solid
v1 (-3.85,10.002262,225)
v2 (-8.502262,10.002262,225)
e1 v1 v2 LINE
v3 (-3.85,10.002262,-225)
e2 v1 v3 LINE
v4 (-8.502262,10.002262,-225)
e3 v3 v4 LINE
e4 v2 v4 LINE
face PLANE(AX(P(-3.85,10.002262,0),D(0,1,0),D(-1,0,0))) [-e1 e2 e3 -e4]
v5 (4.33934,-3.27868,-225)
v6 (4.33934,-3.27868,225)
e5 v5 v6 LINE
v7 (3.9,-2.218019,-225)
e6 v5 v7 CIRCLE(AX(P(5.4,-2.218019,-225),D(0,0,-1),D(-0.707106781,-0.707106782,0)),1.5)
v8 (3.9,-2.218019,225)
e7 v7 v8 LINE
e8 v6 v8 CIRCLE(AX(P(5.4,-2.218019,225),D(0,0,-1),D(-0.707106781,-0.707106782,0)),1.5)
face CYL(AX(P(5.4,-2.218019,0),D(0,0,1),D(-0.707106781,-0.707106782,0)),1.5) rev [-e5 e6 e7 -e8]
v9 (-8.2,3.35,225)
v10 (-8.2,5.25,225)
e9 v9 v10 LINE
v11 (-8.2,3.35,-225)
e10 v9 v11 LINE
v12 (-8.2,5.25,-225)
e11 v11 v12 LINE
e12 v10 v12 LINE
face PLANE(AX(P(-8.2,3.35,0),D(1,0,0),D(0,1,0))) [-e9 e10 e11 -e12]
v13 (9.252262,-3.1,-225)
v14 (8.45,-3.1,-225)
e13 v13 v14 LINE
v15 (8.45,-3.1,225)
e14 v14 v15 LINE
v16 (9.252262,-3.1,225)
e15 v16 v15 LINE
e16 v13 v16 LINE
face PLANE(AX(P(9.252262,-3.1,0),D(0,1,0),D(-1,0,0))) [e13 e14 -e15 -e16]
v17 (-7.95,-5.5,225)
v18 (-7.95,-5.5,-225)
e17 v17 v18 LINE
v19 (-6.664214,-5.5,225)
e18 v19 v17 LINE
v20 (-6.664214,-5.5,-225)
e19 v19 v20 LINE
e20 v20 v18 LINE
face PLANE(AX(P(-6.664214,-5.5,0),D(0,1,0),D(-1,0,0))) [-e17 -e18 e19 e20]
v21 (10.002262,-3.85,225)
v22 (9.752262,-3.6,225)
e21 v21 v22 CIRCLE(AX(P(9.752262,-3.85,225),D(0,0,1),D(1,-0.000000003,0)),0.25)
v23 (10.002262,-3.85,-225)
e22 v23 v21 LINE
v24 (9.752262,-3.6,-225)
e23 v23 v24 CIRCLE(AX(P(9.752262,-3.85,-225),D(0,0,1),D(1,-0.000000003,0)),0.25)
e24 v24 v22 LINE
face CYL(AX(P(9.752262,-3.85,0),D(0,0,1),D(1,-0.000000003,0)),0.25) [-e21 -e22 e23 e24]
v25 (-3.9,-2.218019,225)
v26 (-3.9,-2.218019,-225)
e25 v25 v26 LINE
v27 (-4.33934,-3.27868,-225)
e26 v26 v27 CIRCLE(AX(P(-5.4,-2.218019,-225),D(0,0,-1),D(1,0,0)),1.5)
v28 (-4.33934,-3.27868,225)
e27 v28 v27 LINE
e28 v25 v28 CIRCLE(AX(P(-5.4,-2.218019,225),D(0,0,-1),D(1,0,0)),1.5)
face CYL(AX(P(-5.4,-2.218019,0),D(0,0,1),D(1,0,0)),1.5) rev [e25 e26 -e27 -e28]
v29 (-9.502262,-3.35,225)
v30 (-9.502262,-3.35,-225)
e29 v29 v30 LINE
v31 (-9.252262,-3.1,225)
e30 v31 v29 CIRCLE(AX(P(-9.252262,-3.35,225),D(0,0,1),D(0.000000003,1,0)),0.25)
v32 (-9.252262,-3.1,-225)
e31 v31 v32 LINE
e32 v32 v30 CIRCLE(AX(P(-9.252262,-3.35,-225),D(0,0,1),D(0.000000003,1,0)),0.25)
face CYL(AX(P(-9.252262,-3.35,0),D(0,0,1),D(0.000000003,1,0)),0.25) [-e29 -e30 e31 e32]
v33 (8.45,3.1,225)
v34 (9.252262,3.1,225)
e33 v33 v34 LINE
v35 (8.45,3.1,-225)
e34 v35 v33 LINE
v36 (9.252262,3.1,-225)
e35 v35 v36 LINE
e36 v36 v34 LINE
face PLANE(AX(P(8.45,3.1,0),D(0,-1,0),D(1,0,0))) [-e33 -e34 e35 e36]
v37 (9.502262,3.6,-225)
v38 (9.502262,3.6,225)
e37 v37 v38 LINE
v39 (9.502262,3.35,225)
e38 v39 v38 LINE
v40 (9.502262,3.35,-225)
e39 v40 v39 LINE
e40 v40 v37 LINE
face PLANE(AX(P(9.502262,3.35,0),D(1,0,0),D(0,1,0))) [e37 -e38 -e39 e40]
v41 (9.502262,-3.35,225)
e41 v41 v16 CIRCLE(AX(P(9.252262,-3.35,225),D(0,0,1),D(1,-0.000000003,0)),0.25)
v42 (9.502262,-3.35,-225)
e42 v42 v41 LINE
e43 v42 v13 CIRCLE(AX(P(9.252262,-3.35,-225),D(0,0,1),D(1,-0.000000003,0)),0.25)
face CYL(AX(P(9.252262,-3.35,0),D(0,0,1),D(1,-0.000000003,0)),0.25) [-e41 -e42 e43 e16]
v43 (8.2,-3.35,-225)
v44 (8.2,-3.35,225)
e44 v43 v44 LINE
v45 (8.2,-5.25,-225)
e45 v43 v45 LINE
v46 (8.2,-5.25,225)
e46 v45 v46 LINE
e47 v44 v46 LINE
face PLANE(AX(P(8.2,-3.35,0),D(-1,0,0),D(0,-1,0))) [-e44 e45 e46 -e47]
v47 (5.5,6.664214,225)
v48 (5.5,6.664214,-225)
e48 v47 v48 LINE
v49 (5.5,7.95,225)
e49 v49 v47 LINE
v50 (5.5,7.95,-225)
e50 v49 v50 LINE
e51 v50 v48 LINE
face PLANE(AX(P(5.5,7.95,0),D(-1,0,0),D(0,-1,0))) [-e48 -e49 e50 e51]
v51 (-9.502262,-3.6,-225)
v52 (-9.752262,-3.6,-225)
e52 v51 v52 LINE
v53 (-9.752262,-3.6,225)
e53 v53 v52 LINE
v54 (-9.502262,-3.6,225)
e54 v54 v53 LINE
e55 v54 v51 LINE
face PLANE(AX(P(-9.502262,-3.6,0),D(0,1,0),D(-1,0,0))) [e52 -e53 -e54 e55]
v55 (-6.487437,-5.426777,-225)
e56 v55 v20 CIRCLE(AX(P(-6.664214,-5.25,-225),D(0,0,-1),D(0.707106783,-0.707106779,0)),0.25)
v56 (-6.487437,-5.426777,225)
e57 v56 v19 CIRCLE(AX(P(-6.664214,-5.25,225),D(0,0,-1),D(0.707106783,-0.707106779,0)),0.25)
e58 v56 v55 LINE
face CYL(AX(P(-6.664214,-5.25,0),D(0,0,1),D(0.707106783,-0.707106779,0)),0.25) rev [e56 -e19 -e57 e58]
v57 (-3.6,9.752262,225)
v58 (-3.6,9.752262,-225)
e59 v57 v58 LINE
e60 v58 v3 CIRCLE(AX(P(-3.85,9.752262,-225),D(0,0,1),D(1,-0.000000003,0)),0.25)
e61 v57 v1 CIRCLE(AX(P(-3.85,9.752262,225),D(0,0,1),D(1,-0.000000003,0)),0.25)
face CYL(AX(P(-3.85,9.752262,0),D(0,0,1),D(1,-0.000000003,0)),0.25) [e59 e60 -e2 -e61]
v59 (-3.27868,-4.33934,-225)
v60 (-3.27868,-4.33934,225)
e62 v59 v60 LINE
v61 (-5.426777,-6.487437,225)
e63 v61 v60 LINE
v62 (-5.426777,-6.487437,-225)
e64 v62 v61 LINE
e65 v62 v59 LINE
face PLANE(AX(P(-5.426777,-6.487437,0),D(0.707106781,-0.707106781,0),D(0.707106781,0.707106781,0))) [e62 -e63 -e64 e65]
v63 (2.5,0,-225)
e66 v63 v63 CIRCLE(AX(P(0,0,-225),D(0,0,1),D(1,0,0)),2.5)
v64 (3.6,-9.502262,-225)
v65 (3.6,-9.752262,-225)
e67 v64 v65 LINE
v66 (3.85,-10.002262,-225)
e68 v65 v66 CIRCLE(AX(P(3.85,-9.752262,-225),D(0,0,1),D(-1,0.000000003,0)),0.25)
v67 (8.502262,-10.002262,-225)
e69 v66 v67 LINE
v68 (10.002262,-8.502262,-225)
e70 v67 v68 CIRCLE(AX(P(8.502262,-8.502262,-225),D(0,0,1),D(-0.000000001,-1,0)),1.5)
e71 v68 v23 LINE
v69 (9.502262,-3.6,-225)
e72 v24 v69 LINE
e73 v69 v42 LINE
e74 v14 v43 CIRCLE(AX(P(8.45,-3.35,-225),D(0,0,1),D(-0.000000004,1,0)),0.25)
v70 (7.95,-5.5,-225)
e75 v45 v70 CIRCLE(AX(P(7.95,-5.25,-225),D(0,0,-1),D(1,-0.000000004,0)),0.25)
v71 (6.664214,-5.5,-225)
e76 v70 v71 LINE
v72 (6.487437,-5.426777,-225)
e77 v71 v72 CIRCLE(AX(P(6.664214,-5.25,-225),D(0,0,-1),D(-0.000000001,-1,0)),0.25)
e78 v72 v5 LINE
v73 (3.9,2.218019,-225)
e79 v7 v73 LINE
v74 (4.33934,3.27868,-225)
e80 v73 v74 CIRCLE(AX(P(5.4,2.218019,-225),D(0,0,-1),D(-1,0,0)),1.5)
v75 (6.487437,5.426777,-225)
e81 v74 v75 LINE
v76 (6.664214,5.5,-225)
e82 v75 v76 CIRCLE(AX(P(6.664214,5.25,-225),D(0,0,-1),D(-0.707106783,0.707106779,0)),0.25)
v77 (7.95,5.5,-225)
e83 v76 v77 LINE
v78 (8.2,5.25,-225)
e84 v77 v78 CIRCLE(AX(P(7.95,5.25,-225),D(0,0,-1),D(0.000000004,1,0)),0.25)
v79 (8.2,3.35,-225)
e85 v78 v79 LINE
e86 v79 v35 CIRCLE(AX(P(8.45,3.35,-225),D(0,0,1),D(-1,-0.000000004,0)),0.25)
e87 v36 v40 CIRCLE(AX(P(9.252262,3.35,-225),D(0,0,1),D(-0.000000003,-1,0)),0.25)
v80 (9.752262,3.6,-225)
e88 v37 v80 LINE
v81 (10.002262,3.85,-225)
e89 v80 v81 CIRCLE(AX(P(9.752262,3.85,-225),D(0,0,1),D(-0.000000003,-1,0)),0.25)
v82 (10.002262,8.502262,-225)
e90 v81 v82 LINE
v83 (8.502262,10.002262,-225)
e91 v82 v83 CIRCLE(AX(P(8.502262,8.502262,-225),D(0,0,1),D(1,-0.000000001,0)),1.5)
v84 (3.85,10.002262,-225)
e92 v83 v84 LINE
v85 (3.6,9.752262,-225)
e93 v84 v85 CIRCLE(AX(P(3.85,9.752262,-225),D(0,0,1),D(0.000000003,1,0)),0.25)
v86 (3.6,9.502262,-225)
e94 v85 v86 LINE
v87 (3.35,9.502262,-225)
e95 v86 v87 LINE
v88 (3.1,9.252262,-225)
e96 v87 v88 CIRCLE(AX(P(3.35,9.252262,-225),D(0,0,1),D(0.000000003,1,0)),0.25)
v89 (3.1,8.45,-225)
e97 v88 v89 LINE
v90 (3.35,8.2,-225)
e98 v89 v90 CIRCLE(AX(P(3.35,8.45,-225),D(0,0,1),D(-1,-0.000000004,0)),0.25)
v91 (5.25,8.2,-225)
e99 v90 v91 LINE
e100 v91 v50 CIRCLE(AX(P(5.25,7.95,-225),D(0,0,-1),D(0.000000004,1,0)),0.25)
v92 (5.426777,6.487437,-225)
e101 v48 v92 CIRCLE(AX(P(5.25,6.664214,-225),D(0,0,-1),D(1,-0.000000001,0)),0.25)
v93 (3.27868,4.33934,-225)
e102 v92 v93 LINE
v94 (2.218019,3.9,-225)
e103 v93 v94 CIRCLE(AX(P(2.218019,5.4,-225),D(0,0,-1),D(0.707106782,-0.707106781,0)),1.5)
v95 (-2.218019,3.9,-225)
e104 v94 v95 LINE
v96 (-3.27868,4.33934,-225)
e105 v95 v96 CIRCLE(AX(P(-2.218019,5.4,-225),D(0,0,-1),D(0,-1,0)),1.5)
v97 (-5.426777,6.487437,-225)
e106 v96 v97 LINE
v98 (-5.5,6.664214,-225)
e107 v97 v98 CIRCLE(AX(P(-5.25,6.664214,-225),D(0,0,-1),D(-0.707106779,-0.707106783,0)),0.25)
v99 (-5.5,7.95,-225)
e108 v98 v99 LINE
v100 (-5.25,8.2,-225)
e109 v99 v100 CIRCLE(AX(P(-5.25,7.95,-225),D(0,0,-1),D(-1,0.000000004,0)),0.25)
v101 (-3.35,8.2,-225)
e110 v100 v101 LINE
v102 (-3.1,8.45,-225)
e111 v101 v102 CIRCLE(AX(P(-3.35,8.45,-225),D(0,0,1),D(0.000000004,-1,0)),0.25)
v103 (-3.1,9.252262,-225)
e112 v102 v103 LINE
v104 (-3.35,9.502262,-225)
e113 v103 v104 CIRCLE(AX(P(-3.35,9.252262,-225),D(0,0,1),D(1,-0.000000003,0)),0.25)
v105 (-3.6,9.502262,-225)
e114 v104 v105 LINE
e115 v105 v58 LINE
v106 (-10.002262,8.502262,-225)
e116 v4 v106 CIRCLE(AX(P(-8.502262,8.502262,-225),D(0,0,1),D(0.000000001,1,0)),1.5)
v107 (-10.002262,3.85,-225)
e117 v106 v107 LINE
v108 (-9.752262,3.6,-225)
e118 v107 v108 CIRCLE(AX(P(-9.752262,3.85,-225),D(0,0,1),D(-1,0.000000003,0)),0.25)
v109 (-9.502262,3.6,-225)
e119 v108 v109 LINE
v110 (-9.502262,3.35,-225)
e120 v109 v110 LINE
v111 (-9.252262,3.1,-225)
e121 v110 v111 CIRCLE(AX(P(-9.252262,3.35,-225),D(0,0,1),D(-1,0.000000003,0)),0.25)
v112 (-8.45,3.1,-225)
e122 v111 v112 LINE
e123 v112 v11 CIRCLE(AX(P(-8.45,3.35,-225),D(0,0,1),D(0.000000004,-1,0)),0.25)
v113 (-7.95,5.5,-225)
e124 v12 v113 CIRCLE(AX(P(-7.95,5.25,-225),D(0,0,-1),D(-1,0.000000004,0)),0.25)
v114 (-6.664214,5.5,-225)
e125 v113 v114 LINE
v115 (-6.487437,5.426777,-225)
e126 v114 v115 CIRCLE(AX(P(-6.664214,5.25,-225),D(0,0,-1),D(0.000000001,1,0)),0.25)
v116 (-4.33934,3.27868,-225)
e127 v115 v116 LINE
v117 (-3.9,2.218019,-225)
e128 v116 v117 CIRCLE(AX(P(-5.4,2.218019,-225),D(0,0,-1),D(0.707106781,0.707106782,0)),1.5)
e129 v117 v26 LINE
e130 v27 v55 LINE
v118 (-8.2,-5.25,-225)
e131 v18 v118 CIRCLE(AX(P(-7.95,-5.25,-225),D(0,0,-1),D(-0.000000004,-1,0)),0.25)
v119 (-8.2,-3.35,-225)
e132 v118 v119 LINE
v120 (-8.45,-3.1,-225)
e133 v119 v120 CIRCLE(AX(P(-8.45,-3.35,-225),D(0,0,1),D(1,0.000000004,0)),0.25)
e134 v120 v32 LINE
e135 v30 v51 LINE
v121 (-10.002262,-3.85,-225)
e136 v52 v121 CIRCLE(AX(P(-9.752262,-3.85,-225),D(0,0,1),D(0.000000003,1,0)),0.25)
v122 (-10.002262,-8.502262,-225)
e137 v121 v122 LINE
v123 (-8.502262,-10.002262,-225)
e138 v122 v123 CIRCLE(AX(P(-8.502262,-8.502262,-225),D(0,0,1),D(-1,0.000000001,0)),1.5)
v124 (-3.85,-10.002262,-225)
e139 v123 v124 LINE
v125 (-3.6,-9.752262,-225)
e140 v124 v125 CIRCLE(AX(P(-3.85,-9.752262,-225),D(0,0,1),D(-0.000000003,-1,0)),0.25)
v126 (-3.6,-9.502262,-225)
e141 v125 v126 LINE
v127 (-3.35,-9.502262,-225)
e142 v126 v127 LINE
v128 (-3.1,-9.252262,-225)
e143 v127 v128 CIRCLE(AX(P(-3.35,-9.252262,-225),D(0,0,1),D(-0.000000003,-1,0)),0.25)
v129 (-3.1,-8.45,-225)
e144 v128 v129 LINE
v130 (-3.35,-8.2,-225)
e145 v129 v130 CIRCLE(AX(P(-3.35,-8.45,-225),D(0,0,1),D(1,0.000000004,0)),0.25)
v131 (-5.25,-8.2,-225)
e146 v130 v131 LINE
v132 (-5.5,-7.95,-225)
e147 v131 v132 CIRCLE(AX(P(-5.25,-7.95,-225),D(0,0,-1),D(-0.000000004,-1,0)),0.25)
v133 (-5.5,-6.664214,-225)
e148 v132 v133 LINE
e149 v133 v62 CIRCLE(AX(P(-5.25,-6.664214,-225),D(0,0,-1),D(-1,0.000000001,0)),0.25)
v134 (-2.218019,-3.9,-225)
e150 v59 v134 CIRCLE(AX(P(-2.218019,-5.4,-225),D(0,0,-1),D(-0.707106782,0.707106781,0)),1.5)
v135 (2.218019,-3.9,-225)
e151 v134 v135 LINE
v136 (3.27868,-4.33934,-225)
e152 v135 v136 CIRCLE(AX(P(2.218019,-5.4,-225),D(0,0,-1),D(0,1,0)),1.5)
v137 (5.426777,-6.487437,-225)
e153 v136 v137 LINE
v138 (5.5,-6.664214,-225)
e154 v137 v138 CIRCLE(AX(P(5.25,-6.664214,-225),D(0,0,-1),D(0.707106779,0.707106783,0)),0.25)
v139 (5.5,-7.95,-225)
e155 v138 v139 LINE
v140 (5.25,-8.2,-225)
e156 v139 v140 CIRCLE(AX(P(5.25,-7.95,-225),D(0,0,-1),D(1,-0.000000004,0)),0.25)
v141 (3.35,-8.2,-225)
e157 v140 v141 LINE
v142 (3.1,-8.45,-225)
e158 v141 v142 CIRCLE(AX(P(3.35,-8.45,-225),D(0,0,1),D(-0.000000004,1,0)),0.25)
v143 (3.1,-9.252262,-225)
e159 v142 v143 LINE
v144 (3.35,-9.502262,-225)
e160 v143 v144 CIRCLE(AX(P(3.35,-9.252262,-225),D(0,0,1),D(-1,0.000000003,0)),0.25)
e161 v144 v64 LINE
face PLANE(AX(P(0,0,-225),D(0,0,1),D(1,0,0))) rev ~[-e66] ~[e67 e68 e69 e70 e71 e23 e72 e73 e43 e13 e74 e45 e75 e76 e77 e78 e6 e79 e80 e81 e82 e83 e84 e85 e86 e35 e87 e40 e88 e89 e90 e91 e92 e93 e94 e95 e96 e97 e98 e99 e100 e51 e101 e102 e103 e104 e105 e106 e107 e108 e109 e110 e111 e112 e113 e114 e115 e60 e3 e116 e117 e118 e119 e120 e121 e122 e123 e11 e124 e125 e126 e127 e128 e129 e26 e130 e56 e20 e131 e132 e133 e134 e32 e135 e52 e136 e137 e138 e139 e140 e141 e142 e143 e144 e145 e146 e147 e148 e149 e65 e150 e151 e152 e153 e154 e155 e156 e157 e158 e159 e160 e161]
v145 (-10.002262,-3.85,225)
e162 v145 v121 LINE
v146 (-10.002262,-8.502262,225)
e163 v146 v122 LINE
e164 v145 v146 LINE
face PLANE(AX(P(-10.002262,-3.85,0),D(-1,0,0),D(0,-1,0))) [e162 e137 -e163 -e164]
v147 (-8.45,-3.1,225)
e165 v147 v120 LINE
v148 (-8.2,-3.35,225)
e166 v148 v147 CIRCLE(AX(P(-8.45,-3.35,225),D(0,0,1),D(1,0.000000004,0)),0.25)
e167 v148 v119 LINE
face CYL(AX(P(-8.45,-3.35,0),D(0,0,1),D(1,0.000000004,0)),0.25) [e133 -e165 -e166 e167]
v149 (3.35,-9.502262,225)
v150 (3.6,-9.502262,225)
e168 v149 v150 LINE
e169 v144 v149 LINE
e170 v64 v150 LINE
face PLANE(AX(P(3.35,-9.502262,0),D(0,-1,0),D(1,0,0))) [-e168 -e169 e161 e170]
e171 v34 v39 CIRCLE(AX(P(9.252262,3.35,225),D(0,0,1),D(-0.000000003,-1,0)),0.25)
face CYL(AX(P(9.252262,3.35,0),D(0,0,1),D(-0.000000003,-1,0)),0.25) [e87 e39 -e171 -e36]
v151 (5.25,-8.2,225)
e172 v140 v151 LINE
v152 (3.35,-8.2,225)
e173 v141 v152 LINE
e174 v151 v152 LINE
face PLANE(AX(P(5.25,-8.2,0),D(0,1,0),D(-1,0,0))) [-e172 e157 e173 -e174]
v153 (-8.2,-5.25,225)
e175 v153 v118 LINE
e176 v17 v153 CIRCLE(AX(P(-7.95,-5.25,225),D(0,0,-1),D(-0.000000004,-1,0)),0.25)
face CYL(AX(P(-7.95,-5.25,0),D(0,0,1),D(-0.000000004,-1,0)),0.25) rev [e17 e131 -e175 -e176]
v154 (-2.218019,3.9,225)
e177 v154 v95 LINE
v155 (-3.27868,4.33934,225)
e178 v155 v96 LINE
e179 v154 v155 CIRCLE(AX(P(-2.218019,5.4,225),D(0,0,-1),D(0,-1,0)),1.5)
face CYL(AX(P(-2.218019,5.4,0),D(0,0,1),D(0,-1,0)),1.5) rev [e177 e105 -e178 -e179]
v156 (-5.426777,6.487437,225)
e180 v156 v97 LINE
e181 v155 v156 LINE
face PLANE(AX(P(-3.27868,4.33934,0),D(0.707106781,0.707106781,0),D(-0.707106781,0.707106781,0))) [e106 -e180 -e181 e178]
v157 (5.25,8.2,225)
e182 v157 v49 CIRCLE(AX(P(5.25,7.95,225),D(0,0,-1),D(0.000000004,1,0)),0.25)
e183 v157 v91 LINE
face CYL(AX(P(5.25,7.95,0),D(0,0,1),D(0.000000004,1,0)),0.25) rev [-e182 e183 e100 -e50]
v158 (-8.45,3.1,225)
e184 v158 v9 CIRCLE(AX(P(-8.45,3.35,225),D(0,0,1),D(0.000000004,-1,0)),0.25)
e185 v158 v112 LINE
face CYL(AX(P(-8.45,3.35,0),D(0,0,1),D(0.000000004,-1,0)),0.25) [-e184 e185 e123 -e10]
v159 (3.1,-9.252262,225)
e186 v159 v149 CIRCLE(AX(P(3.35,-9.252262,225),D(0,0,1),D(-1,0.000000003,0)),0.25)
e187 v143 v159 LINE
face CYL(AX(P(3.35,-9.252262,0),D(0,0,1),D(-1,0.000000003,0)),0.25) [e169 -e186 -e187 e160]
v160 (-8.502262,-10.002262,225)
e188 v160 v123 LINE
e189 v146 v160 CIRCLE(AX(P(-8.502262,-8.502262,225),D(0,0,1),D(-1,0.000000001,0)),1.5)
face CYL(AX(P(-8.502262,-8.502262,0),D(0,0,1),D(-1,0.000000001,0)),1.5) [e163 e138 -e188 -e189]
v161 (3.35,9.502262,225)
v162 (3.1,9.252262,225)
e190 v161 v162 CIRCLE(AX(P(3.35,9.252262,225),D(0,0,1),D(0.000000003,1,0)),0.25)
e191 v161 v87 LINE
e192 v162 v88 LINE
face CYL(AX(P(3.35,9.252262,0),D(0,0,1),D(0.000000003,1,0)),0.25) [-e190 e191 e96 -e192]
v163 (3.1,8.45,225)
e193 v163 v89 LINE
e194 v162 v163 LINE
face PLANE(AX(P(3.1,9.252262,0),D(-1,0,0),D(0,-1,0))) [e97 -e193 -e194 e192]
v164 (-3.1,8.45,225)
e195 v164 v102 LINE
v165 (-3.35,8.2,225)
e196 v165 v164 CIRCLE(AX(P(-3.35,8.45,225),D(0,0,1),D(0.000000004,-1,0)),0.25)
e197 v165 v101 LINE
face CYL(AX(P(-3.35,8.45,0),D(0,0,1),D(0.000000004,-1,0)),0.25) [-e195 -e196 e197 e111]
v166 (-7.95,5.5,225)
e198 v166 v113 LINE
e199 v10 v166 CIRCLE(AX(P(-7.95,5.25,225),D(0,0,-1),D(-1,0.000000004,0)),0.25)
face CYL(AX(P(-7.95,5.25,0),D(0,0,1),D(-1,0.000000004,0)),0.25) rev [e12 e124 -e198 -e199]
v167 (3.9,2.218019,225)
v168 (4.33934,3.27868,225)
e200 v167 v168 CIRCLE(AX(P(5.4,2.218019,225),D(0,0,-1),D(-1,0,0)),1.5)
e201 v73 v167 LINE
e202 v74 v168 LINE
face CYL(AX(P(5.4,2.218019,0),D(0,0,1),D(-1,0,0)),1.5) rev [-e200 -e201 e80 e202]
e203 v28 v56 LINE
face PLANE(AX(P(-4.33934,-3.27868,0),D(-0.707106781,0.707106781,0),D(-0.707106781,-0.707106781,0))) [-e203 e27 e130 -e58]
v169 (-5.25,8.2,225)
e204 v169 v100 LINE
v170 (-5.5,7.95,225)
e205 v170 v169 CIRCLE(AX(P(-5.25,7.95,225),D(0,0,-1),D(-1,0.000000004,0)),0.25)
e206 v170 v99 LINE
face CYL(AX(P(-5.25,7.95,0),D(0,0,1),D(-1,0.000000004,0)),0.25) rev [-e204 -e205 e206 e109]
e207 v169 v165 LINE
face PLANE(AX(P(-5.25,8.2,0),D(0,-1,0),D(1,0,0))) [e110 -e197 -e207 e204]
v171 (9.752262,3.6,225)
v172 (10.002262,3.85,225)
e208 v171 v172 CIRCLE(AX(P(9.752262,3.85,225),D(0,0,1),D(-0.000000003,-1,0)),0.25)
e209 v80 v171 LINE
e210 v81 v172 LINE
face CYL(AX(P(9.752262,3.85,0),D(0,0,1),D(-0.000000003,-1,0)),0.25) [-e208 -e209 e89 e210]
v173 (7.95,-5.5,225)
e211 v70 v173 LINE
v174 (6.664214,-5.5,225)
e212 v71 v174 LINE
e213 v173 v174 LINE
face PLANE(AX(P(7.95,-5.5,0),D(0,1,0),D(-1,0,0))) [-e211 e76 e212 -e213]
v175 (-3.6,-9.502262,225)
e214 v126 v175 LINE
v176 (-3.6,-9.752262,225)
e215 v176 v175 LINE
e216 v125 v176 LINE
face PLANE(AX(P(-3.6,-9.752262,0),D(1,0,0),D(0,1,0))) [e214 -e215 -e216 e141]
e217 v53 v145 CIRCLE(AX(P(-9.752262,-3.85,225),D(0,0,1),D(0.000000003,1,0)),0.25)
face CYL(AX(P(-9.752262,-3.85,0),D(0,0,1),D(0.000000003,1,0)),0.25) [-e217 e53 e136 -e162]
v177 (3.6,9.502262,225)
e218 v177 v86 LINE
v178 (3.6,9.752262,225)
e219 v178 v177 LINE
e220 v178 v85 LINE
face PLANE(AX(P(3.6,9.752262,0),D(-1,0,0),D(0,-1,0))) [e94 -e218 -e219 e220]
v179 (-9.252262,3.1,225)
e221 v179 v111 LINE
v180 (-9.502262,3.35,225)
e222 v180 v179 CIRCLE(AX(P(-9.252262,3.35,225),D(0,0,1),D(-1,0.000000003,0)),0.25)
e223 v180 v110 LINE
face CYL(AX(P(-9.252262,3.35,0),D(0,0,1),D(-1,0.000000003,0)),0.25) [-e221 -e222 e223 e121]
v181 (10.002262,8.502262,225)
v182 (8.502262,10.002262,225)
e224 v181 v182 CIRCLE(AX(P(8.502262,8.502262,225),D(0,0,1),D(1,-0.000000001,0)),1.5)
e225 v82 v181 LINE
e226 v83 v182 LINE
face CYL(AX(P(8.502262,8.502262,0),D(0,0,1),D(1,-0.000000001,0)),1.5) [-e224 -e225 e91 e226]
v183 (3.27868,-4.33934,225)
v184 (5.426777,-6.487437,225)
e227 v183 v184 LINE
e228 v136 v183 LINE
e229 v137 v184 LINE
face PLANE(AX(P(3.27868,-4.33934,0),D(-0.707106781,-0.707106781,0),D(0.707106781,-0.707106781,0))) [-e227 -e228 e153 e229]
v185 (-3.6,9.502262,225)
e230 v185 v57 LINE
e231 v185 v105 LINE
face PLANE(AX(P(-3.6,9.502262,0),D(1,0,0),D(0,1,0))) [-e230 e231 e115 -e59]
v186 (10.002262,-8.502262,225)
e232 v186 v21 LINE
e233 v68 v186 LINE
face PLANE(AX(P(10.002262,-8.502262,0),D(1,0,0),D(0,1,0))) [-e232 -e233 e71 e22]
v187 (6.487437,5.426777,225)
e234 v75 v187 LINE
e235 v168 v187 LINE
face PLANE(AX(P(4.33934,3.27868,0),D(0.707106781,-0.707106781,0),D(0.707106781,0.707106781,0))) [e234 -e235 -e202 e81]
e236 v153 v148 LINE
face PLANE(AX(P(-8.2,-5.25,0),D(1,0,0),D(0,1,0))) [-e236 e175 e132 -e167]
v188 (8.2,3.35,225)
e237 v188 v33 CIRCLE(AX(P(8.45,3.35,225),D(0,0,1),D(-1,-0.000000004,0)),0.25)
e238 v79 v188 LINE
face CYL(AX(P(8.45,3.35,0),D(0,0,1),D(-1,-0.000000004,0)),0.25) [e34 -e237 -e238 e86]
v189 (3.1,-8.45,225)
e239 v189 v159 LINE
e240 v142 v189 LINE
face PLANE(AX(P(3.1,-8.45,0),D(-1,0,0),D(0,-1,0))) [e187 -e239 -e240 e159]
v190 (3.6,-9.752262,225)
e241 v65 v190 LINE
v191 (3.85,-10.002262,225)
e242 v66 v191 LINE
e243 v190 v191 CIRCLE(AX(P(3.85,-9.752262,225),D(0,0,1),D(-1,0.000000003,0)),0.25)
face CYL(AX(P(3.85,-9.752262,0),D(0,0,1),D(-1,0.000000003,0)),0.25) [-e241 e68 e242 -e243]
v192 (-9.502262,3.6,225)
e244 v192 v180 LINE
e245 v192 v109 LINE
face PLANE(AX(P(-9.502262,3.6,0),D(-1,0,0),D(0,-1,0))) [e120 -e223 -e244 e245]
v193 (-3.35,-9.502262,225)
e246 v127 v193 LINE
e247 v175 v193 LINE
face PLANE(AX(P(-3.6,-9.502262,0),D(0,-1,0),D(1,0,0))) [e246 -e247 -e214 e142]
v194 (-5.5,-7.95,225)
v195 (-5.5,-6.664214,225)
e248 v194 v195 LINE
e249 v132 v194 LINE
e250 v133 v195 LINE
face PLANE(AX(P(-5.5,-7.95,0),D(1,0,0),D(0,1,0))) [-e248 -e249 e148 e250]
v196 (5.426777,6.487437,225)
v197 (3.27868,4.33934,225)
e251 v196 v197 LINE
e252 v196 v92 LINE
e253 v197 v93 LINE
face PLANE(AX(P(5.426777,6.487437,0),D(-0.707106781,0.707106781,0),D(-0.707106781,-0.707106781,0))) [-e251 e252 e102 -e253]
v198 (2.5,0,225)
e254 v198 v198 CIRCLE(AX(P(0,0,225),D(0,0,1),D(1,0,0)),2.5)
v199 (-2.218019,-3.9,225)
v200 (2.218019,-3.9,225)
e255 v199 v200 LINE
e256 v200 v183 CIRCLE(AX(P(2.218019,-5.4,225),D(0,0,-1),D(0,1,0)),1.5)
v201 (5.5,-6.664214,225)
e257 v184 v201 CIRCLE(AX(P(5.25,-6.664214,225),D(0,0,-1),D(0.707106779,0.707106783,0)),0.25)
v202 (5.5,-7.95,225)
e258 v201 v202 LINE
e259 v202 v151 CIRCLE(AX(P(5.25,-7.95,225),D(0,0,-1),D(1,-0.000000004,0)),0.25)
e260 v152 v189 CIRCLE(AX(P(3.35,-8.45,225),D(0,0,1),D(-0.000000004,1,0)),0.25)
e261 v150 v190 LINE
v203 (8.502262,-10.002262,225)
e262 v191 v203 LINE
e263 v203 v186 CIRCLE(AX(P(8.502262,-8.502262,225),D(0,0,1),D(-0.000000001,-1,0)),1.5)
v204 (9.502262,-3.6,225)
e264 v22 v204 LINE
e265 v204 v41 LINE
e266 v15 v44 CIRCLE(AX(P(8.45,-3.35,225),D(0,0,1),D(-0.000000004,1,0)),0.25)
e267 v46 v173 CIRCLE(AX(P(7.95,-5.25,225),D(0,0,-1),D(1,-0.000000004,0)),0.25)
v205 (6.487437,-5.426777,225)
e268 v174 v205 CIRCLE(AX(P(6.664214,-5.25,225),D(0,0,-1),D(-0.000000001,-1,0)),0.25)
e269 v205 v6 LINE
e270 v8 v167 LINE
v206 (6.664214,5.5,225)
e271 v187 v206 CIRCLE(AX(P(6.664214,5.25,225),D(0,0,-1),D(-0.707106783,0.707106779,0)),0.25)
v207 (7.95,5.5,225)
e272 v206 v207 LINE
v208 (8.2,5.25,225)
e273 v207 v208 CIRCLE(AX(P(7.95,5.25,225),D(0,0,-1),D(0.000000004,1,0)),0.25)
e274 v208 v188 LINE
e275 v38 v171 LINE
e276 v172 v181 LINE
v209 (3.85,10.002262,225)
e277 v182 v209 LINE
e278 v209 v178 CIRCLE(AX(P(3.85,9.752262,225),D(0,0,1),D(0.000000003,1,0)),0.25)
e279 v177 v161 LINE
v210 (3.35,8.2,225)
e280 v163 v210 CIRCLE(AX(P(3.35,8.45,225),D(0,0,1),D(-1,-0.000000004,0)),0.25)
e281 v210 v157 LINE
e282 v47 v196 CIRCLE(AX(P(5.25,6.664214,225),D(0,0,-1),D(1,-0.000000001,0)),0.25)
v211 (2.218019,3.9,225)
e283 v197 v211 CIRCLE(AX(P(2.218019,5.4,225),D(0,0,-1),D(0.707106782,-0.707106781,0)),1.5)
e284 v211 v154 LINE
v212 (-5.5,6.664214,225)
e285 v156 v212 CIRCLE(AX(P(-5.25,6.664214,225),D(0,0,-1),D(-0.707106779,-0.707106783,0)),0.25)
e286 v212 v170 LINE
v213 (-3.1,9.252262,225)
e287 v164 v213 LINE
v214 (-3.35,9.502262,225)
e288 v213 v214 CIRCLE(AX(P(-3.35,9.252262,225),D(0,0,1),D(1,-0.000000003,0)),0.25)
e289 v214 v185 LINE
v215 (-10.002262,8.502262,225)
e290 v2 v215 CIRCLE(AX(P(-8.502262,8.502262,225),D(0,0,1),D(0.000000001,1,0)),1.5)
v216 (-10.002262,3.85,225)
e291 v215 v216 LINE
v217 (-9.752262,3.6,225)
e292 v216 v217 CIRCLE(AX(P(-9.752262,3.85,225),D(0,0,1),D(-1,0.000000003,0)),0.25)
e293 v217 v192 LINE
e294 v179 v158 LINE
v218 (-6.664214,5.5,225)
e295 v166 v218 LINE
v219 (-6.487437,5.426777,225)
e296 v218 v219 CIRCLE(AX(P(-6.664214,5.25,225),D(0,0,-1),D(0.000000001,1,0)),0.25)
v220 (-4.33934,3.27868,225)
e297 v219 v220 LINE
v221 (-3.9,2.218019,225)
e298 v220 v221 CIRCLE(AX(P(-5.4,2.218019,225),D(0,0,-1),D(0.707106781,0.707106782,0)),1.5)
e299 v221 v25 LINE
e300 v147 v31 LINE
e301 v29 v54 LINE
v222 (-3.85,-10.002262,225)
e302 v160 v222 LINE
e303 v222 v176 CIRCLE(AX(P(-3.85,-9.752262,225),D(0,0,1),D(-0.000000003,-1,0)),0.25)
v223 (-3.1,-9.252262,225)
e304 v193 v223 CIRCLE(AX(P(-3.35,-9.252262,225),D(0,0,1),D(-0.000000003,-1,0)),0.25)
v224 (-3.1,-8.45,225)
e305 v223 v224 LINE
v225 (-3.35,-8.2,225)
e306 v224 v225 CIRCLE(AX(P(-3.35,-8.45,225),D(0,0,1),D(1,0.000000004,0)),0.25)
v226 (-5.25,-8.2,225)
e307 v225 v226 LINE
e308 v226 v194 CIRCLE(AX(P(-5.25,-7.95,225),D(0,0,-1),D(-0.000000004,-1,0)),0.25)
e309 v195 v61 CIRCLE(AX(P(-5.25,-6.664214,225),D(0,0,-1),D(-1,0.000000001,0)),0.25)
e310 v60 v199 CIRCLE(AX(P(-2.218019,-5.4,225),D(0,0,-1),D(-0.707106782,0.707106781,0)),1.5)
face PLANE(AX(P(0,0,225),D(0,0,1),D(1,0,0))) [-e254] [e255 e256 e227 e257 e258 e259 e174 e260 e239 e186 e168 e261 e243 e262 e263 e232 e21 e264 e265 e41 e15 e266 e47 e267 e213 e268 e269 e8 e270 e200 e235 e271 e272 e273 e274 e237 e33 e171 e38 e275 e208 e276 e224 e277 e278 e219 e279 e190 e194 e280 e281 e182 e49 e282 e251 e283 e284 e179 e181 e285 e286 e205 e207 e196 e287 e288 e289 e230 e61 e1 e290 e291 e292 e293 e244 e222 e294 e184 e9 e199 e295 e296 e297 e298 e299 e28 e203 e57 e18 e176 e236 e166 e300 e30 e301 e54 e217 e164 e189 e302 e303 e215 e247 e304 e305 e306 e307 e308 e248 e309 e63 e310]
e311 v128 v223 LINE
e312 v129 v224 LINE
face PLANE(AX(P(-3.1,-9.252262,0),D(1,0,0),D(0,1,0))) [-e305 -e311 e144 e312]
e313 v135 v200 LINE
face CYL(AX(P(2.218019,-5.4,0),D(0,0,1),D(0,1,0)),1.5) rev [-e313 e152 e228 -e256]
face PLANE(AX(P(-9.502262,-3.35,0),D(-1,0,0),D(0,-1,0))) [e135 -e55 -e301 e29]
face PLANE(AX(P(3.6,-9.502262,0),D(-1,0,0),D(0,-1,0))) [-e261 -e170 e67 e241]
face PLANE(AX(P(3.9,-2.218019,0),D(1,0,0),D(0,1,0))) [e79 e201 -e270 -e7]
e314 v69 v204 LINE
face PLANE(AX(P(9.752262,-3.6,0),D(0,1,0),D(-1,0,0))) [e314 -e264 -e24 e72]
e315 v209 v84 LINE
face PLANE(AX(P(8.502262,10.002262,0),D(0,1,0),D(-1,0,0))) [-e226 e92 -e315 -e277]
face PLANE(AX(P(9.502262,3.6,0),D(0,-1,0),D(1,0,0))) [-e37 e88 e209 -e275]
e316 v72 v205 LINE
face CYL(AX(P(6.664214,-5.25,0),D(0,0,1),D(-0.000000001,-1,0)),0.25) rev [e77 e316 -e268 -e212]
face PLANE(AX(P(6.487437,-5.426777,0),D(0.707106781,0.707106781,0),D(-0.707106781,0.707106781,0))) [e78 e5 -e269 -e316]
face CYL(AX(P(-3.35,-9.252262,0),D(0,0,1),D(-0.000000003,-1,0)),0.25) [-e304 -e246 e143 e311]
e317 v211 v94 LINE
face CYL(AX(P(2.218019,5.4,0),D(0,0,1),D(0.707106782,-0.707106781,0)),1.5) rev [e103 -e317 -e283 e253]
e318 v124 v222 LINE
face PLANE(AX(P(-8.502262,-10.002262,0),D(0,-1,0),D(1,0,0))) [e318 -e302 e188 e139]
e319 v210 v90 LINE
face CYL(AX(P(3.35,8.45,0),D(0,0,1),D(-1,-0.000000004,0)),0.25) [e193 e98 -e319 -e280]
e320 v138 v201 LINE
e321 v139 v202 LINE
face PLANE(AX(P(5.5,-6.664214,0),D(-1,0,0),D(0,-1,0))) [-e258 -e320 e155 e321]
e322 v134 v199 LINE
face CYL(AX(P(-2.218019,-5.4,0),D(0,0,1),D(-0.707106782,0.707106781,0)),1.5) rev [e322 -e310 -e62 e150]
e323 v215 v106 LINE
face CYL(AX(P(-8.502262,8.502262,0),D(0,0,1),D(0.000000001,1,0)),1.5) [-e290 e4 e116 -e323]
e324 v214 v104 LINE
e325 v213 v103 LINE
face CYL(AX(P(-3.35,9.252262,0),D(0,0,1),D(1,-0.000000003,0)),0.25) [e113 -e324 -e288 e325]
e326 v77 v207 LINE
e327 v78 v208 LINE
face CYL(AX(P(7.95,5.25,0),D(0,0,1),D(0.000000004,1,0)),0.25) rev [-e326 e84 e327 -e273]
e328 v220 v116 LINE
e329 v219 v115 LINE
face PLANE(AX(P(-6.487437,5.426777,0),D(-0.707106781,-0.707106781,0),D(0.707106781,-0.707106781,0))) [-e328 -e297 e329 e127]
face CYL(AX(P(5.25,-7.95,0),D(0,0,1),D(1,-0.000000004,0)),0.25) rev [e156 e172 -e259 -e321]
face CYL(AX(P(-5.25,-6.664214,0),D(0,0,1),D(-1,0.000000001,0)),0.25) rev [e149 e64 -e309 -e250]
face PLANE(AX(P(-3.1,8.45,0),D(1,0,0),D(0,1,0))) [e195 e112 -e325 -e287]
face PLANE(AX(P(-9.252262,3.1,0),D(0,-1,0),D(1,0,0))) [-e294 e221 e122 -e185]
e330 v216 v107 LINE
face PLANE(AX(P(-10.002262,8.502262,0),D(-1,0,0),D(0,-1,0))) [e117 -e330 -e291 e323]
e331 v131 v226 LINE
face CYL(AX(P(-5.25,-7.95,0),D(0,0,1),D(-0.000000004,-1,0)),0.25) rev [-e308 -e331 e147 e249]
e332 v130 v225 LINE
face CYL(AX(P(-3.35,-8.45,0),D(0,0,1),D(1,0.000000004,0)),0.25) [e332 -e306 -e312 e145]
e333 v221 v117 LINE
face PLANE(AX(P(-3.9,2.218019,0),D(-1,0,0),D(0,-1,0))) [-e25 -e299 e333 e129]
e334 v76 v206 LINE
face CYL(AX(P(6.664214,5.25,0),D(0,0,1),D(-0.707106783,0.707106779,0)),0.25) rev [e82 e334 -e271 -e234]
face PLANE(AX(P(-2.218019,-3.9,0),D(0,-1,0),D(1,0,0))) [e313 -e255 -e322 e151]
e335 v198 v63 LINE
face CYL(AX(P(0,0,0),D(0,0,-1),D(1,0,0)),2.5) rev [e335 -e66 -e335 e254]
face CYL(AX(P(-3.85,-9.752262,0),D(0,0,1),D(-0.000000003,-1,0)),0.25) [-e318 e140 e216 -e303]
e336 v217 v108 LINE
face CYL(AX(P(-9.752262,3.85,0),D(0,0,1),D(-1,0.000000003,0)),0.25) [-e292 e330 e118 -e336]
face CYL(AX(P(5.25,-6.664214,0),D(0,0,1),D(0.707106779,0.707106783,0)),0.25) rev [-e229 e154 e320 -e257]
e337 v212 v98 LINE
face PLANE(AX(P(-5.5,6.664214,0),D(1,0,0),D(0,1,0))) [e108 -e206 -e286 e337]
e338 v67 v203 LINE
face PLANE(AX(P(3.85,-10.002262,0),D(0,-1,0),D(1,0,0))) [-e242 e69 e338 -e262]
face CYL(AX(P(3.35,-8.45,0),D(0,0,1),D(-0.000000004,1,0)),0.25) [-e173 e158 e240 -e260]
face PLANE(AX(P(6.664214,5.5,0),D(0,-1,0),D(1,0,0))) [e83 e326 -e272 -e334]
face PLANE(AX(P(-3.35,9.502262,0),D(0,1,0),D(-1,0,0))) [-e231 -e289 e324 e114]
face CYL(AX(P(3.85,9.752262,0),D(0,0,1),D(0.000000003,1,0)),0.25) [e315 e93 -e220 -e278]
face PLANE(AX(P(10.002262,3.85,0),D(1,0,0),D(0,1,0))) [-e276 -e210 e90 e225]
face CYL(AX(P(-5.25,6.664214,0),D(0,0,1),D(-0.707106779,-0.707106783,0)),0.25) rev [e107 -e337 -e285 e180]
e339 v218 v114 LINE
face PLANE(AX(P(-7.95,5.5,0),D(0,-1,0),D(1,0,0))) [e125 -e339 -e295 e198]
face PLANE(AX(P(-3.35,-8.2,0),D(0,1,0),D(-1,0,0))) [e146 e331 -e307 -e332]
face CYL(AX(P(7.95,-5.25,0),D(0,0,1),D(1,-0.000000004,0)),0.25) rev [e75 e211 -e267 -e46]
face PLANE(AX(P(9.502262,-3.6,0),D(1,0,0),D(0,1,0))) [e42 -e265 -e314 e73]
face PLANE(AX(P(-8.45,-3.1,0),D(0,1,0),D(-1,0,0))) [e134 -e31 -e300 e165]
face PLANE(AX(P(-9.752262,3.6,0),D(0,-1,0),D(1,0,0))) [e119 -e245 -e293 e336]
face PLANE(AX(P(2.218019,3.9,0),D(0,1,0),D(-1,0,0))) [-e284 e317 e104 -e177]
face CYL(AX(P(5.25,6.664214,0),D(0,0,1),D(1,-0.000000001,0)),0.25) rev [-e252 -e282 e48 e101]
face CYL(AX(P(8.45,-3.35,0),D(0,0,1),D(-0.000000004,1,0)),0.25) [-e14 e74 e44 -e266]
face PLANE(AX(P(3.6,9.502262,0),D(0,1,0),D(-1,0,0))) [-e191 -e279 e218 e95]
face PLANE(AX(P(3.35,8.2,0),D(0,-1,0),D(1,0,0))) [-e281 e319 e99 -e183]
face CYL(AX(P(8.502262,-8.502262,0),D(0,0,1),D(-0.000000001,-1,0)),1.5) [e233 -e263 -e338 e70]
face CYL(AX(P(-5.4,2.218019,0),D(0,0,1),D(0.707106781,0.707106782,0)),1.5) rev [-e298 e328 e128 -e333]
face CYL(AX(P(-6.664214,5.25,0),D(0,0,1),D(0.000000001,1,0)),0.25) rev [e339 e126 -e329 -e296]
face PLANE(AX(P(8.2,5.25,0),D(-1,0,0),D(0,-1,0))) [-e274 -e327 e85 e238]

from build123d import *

# Parameters (mm, degrees)
SKETCH_1_R      = 2.5
EXTRUDE_1_DEPTH = 225


with BuildPart() as part:
    # 草图1 → 凸台-拉伸1 (new, symmetric)
    with BuildSketch(Plane.XY):
        with BuildLine():
            Line((-8.502261885, -10.002261885), (-3.85, -10.002261885))
            ThreePointArc((-3.85, -10.002261885), (-3.673223305, -9.929038581), (-3.6, -9.752261885))
            Line((-3.6, -9.752261885), (-3.6, -9.502261885))
            Line((-3.6, -9.502261885), (-3.35, -9.502261885))
            ThreePointArc((-3.35, -9.502261885), (-3.173223305, -9.429038581), (-3.1, -9.252261885))
            Line((-3.1, -9.252261885), (-3.1, -8.45))
            ThreePointArc((-3.1, -8.45), (-3.173223305, -8.273223305), (-3.35, -8.2))
            Line((-3.35, -8.2), (-5.25, -8.2))
            ThreePointArc((-5.25, -8.2), (-5.426776695, -8.126776695), (-5.5, -7.95))
            Line((-5.5, -7.95), (-5.5, -6.664213562))
            ThreePointArc((-5.5, -6.664213562), (-5.480969883, -6.568542704), (-5.426776695, -6.487436867))
            Line((-5.426776695, -6.487436867), (-3.278679656, -4.339339828))
            ThreePointArc((-3.278679656, -4.339339828), (-2.792044633, -4.014180701), (-2.218019485, -3.9))
            Line((-2.218019485, -3.9), (2.218019485, -3.9))
            ThreePointArc((2.218019485, -3.9), (2.792044633, -4.014180701), (3.278679656, -4.339339828))
            Line((3.278679656, -4.339339828), (5.426776695, -6.487436867))
            ThreePointArc((5.426776695, -6.487436867), (5.480969883, -6.568542704), (5.5, -6.664213562))
            Line((5.5, -6.664213562), (5.5, -7.95))
            ThreePointArc((5.5, -7.95), (5.426776695, -8.126776695), (5.25, -8.2))
            Line((5.25, -8.2), (3.35, -8.2))
            ThreePointArc((3.35, -8.2), (3.173223305, -8.273223305), (3.1, -8.45))
            Line((3.1, -8.45), (3.1, -9.252261885))
            ThreePointArc((3.1, -9.252261885), (3.173223305, -9.429038581), (3.35, -9.502261885))
            Line((3.35, -9.502261885), (3.6, -9.502261885))
            Line((3.6, -9.502261885), (3.6, -9.752261885))
            ThreePointArc((3.6, -9.752261885), (3.673223305, -9.929038581), (3.85, -10.002261885))
            Line((3.85, -10.002261885), (8.502261885, -10.002261885))
            ThreePointArc((8.502261885, -10.002261885), (9.562922057, -9.562922057), (10.002261885, -8.502261885))
            Line((10.002261885, -8.502261885), (10.002261885, -3.85))
            ThreePointArc((10.002261885, -3.85), (9.929038581, -3.673223305), (9.752261885, -3.6))
            Line((9.752261885, -3.6), (9.502261885, -3.6))
            Line((9.502261885, -3.6), (9.502261885, -3.35))
            ThreePointArc((9.502261885, -3.35), (9.429038581, -3.173223305), (9.252261885, -3.1))
            Line((9.252261885, -3.1), (8.45, -3.1))
            ThreePointArc((8.45, -3.1), (8.273223305, -3.173223305), (8.2, -3.35))
            Line((8.2, -3.35), (8.2, -5.25))
            ThreePointArc((8.2, -5.25), (8.126776695, -5.426776695), (7.95, -5.5))
            Line((7.95, -5.5), (6.664213562, -5.5))
            ThreePointArc((6.664213562, -5.5), (6.568542704, -5.480969883), (6.487436867, -5.426776695))
            Line((6.487436867, -5.426776695), (4.339339828, -3.278679656))
            ThreePointArc((4.339339828, -3.278679656), (4.014180701, -2.792044633), (3.9, -2.218019485))
            Line((3.9, -2.218019485), (3.9, 2.218019485))
            ThreePointArc((3.9, 2.218019485), (4.014180701, 2.792044633), (4.339339828, 3.278679656))
            Line((4.339339828, 3.278679656), (6.487436867, 5.426776695))
            ThreePointArc((6.487436867, 5.426776695), (6.568542704, 5.480969883), (6.664213562, 5.5))
            Line((6.664213562, 5.5), (7.95, 5.5))
            ThreePointArc((7.95, 5.5), (8.126776695, 5.426776695), (8.2, 5.25))
            Line((8.2, 5.25), (8.2, 3.35))
            ThreePointArc((8.2, 3.35), (8.273223305, 3.173223305), (8.45, 3.1))
            Line((8.45, 3.1), (9.252261885, 3.1))
            ThreePointArc((9.252261885, 3.1), (9.429038581, 3.173223305), (9.502261885, 3.35))
            Line((9.502261885, 3.35), (9.502261885, 3.6))
            Line((9.502261885, 3.6), (9.752261885, 3.6))
            ThreePointArc((9.752261885, 3.6), (9.929038581, 3.673223305), (10.002261885, 3.85))
            Line((10.002261885, 3.85), (10.002261885, 8.502261885))
            ThreePointArc((10.002261885, 8.502261885), (9.562922057, 9.562922057), (8.502261885, 10.002261885))
            Line((8.502261885, 10.002261885), (3.85, 10.002261885))
            ThreePointArc((3.85, 10.002261885), (3.673223305, 9.929038581), (3.6, 9.752261885))
            Line((3.6, 9.752261885), (3.6, 9.502261885))
            Line((3.6, 9.502261885), (3.35, 9.502261885))
            ThreePointArc((3.35, 9.502261885), (3.173223305, 9.429038581), (3.1, 9.252261885))
            Line((3.1, 9.252261885), (3.1, 8.45))
            ThreePointArc((3.1, 8.45), (3.173223305, 8.273223305), (3.35, 8.2))
            Line((3.35, 8.2), (5.25, 8.2))
            ThreePointArc((5.25, 8.2), (5.426776695, 8.126776695), (5.5, 7.95))
            Line((5.5, 7.95), (5.5, 6.664213562))
            ThreePointArc((5.5, 6.664213562), (5.480969883, 6.568542704), (5.426776695, 6.487436867))
            Line((5.426776695, 6.487436867), (3.278679656, 4.339339828))
            ThreePointArc((3.278679656, 4.339339828), (2.792044633, 4.014180701), (2.218019485, 3.9))
            Line((2.218019485, 3.9), (-2.218019485, 3.9))
            ThreePointArc((-2.218019485, 3.9), (-2.792044633, 4.014180701), (-3.278679656, 4.339339828))
            Line((-3.278679656, 4.339339828), (-5.426776695, 6.487436867))
            ThreePointArc((-5.426776695, 6.487436867), (-5.480969883, 6.568542704), (-5.5, 6.664213562))
            Line((-5.5, 6.664213562), (-5.5, 7.95))
            ThreePointArc((-5.5, 7.95), (-5.426776695, 8.126776695), (-5.25, 8.2))
            Line((-5.25, 8.2), (-3.35, 8.2))
            ThreePointArc((-3.35, 8.2), (-3.173223305, 8.273223305), (-3.1, 8.45))
            Line((-3.1, 8.45), (-3.1, 9.252261885))
            ThreePointArc((-3.1, 9.252261885), (-3.173223305, 9.429038581), (-3.35, 9.502261885))
            Line((-3.35, 9.502261885), (-3.6, 9.502261885))
            Line((-3.6, 9.502261885), (-3.6, 9.752261885))
            ThreePointArc((-3.6, 9.752261885), (-3.673223305, 9.929038581), (-3.85, 10.002261885))
            Line((-3.85, 10.002261885), (-8.502261885, 10.002261885))
            ThreePointArc((-8.502261885, 10.002261885), (-9.562922057, 9.562922057), (-10.002261885, 8.502261885))
            Line((-10.002261885, 8.502261885), (-10.002261885, 3.85))
            ThreePointArc((-10.002261885, 3.85), (-9.929038581, 3.673223305), (-9.752261885, 3.6))
            Line((-9.752261885, 3.6), (-9.502261885, 3.6))
            Line((-9.502261885, 3.6), (-9.502261885, 3.35))
            ThreePointArc((-9.502261885, 3.35), (-9.429038581, 3.173223305), (-9.252261885, 3.1))
            Line((-9.252261885, 3.1), (-8.45, 3.1))
            ThreePointArc((-8.45, 3.1), (-8.273223305, 3.173223305), (-8.2, 3.35))
            Line((-8.2, 3.35), (-8.2, 5.25))
            ThreePointArc((-8.2, 5.25), (-8.126776695, 5.426776695), (-7.95, 5.5))
            Line((-7.95, 5.5), (-6.664213562, 5.5))
            ThreePointArc((-6.664213562, 5.5), (-6.568542704, 5.480969883), (-6.487436867, 5.426776695))
            Line((-6.487436867, 5.426776695), (-4.339339828, 3.278679656))
            ThreePointArc((-4.339339828, 3.278679656), (-4.014180701, 2.792044633), (-3.9, 2.218019485))
            Line((-3.9, 2.218019485), (-3.9, -2.218019485))
            ThreePointArc((-3.9, -2.218019485), (-4.014180701, -2.792044633), (-4.339339828, -3.278679656))
            Line((-4.339339828, -3.278679656), (-6.487436867, -5.426776695))
            ThreePointArc((-6.487436867, -5.426776695), (-6.568542704, -5.480969883), (-6.664213562, -5.5))
            Line((-6.664213562, -5.5), (-7.95, -5.5))
            ThreePointArc((-7.95, -5.5), (-8.126776695, -5.426776695), (-8.2, -5.25))
            Line((-8.2, -5.25), (-8.2, -3.35))
            ThreePointArc((-8.2, -3.35), (-8.273223305, -3.173223305), (-8.45, -3.1))
            Line((-8.45, -3.1), (-9.252261885, -3.1))
            ThreePointArc((-9.252261885, -3.1), (-9.429038581, -3.173223305), (-9.502261885, -3.35))
            Line((-9.502261885, -3.35), (-9.502261885, -3.6))
            Line((-9.502261885, -3.6), (-9.752261885, -3.6))
            ThreePointArc((-9.752261885, -3.6), (-9.929038581, -3.673223305), (-10.002261885, -3.85))
            Line((-10.002261885, -3.85), (-10.002261885, -8.502261885))
            ThreePointArc((-10.002261885, -8.502261885), (-9.562922057, -9.562922057), (-8.502261885, -10.002261885))
        make_face()
        Circle(SKETCH_1_R, mode=Mode.SUBTRACT)
    extrude(amount=EXTRUDE_1_DEPTH, both=True)


solid = part.part
